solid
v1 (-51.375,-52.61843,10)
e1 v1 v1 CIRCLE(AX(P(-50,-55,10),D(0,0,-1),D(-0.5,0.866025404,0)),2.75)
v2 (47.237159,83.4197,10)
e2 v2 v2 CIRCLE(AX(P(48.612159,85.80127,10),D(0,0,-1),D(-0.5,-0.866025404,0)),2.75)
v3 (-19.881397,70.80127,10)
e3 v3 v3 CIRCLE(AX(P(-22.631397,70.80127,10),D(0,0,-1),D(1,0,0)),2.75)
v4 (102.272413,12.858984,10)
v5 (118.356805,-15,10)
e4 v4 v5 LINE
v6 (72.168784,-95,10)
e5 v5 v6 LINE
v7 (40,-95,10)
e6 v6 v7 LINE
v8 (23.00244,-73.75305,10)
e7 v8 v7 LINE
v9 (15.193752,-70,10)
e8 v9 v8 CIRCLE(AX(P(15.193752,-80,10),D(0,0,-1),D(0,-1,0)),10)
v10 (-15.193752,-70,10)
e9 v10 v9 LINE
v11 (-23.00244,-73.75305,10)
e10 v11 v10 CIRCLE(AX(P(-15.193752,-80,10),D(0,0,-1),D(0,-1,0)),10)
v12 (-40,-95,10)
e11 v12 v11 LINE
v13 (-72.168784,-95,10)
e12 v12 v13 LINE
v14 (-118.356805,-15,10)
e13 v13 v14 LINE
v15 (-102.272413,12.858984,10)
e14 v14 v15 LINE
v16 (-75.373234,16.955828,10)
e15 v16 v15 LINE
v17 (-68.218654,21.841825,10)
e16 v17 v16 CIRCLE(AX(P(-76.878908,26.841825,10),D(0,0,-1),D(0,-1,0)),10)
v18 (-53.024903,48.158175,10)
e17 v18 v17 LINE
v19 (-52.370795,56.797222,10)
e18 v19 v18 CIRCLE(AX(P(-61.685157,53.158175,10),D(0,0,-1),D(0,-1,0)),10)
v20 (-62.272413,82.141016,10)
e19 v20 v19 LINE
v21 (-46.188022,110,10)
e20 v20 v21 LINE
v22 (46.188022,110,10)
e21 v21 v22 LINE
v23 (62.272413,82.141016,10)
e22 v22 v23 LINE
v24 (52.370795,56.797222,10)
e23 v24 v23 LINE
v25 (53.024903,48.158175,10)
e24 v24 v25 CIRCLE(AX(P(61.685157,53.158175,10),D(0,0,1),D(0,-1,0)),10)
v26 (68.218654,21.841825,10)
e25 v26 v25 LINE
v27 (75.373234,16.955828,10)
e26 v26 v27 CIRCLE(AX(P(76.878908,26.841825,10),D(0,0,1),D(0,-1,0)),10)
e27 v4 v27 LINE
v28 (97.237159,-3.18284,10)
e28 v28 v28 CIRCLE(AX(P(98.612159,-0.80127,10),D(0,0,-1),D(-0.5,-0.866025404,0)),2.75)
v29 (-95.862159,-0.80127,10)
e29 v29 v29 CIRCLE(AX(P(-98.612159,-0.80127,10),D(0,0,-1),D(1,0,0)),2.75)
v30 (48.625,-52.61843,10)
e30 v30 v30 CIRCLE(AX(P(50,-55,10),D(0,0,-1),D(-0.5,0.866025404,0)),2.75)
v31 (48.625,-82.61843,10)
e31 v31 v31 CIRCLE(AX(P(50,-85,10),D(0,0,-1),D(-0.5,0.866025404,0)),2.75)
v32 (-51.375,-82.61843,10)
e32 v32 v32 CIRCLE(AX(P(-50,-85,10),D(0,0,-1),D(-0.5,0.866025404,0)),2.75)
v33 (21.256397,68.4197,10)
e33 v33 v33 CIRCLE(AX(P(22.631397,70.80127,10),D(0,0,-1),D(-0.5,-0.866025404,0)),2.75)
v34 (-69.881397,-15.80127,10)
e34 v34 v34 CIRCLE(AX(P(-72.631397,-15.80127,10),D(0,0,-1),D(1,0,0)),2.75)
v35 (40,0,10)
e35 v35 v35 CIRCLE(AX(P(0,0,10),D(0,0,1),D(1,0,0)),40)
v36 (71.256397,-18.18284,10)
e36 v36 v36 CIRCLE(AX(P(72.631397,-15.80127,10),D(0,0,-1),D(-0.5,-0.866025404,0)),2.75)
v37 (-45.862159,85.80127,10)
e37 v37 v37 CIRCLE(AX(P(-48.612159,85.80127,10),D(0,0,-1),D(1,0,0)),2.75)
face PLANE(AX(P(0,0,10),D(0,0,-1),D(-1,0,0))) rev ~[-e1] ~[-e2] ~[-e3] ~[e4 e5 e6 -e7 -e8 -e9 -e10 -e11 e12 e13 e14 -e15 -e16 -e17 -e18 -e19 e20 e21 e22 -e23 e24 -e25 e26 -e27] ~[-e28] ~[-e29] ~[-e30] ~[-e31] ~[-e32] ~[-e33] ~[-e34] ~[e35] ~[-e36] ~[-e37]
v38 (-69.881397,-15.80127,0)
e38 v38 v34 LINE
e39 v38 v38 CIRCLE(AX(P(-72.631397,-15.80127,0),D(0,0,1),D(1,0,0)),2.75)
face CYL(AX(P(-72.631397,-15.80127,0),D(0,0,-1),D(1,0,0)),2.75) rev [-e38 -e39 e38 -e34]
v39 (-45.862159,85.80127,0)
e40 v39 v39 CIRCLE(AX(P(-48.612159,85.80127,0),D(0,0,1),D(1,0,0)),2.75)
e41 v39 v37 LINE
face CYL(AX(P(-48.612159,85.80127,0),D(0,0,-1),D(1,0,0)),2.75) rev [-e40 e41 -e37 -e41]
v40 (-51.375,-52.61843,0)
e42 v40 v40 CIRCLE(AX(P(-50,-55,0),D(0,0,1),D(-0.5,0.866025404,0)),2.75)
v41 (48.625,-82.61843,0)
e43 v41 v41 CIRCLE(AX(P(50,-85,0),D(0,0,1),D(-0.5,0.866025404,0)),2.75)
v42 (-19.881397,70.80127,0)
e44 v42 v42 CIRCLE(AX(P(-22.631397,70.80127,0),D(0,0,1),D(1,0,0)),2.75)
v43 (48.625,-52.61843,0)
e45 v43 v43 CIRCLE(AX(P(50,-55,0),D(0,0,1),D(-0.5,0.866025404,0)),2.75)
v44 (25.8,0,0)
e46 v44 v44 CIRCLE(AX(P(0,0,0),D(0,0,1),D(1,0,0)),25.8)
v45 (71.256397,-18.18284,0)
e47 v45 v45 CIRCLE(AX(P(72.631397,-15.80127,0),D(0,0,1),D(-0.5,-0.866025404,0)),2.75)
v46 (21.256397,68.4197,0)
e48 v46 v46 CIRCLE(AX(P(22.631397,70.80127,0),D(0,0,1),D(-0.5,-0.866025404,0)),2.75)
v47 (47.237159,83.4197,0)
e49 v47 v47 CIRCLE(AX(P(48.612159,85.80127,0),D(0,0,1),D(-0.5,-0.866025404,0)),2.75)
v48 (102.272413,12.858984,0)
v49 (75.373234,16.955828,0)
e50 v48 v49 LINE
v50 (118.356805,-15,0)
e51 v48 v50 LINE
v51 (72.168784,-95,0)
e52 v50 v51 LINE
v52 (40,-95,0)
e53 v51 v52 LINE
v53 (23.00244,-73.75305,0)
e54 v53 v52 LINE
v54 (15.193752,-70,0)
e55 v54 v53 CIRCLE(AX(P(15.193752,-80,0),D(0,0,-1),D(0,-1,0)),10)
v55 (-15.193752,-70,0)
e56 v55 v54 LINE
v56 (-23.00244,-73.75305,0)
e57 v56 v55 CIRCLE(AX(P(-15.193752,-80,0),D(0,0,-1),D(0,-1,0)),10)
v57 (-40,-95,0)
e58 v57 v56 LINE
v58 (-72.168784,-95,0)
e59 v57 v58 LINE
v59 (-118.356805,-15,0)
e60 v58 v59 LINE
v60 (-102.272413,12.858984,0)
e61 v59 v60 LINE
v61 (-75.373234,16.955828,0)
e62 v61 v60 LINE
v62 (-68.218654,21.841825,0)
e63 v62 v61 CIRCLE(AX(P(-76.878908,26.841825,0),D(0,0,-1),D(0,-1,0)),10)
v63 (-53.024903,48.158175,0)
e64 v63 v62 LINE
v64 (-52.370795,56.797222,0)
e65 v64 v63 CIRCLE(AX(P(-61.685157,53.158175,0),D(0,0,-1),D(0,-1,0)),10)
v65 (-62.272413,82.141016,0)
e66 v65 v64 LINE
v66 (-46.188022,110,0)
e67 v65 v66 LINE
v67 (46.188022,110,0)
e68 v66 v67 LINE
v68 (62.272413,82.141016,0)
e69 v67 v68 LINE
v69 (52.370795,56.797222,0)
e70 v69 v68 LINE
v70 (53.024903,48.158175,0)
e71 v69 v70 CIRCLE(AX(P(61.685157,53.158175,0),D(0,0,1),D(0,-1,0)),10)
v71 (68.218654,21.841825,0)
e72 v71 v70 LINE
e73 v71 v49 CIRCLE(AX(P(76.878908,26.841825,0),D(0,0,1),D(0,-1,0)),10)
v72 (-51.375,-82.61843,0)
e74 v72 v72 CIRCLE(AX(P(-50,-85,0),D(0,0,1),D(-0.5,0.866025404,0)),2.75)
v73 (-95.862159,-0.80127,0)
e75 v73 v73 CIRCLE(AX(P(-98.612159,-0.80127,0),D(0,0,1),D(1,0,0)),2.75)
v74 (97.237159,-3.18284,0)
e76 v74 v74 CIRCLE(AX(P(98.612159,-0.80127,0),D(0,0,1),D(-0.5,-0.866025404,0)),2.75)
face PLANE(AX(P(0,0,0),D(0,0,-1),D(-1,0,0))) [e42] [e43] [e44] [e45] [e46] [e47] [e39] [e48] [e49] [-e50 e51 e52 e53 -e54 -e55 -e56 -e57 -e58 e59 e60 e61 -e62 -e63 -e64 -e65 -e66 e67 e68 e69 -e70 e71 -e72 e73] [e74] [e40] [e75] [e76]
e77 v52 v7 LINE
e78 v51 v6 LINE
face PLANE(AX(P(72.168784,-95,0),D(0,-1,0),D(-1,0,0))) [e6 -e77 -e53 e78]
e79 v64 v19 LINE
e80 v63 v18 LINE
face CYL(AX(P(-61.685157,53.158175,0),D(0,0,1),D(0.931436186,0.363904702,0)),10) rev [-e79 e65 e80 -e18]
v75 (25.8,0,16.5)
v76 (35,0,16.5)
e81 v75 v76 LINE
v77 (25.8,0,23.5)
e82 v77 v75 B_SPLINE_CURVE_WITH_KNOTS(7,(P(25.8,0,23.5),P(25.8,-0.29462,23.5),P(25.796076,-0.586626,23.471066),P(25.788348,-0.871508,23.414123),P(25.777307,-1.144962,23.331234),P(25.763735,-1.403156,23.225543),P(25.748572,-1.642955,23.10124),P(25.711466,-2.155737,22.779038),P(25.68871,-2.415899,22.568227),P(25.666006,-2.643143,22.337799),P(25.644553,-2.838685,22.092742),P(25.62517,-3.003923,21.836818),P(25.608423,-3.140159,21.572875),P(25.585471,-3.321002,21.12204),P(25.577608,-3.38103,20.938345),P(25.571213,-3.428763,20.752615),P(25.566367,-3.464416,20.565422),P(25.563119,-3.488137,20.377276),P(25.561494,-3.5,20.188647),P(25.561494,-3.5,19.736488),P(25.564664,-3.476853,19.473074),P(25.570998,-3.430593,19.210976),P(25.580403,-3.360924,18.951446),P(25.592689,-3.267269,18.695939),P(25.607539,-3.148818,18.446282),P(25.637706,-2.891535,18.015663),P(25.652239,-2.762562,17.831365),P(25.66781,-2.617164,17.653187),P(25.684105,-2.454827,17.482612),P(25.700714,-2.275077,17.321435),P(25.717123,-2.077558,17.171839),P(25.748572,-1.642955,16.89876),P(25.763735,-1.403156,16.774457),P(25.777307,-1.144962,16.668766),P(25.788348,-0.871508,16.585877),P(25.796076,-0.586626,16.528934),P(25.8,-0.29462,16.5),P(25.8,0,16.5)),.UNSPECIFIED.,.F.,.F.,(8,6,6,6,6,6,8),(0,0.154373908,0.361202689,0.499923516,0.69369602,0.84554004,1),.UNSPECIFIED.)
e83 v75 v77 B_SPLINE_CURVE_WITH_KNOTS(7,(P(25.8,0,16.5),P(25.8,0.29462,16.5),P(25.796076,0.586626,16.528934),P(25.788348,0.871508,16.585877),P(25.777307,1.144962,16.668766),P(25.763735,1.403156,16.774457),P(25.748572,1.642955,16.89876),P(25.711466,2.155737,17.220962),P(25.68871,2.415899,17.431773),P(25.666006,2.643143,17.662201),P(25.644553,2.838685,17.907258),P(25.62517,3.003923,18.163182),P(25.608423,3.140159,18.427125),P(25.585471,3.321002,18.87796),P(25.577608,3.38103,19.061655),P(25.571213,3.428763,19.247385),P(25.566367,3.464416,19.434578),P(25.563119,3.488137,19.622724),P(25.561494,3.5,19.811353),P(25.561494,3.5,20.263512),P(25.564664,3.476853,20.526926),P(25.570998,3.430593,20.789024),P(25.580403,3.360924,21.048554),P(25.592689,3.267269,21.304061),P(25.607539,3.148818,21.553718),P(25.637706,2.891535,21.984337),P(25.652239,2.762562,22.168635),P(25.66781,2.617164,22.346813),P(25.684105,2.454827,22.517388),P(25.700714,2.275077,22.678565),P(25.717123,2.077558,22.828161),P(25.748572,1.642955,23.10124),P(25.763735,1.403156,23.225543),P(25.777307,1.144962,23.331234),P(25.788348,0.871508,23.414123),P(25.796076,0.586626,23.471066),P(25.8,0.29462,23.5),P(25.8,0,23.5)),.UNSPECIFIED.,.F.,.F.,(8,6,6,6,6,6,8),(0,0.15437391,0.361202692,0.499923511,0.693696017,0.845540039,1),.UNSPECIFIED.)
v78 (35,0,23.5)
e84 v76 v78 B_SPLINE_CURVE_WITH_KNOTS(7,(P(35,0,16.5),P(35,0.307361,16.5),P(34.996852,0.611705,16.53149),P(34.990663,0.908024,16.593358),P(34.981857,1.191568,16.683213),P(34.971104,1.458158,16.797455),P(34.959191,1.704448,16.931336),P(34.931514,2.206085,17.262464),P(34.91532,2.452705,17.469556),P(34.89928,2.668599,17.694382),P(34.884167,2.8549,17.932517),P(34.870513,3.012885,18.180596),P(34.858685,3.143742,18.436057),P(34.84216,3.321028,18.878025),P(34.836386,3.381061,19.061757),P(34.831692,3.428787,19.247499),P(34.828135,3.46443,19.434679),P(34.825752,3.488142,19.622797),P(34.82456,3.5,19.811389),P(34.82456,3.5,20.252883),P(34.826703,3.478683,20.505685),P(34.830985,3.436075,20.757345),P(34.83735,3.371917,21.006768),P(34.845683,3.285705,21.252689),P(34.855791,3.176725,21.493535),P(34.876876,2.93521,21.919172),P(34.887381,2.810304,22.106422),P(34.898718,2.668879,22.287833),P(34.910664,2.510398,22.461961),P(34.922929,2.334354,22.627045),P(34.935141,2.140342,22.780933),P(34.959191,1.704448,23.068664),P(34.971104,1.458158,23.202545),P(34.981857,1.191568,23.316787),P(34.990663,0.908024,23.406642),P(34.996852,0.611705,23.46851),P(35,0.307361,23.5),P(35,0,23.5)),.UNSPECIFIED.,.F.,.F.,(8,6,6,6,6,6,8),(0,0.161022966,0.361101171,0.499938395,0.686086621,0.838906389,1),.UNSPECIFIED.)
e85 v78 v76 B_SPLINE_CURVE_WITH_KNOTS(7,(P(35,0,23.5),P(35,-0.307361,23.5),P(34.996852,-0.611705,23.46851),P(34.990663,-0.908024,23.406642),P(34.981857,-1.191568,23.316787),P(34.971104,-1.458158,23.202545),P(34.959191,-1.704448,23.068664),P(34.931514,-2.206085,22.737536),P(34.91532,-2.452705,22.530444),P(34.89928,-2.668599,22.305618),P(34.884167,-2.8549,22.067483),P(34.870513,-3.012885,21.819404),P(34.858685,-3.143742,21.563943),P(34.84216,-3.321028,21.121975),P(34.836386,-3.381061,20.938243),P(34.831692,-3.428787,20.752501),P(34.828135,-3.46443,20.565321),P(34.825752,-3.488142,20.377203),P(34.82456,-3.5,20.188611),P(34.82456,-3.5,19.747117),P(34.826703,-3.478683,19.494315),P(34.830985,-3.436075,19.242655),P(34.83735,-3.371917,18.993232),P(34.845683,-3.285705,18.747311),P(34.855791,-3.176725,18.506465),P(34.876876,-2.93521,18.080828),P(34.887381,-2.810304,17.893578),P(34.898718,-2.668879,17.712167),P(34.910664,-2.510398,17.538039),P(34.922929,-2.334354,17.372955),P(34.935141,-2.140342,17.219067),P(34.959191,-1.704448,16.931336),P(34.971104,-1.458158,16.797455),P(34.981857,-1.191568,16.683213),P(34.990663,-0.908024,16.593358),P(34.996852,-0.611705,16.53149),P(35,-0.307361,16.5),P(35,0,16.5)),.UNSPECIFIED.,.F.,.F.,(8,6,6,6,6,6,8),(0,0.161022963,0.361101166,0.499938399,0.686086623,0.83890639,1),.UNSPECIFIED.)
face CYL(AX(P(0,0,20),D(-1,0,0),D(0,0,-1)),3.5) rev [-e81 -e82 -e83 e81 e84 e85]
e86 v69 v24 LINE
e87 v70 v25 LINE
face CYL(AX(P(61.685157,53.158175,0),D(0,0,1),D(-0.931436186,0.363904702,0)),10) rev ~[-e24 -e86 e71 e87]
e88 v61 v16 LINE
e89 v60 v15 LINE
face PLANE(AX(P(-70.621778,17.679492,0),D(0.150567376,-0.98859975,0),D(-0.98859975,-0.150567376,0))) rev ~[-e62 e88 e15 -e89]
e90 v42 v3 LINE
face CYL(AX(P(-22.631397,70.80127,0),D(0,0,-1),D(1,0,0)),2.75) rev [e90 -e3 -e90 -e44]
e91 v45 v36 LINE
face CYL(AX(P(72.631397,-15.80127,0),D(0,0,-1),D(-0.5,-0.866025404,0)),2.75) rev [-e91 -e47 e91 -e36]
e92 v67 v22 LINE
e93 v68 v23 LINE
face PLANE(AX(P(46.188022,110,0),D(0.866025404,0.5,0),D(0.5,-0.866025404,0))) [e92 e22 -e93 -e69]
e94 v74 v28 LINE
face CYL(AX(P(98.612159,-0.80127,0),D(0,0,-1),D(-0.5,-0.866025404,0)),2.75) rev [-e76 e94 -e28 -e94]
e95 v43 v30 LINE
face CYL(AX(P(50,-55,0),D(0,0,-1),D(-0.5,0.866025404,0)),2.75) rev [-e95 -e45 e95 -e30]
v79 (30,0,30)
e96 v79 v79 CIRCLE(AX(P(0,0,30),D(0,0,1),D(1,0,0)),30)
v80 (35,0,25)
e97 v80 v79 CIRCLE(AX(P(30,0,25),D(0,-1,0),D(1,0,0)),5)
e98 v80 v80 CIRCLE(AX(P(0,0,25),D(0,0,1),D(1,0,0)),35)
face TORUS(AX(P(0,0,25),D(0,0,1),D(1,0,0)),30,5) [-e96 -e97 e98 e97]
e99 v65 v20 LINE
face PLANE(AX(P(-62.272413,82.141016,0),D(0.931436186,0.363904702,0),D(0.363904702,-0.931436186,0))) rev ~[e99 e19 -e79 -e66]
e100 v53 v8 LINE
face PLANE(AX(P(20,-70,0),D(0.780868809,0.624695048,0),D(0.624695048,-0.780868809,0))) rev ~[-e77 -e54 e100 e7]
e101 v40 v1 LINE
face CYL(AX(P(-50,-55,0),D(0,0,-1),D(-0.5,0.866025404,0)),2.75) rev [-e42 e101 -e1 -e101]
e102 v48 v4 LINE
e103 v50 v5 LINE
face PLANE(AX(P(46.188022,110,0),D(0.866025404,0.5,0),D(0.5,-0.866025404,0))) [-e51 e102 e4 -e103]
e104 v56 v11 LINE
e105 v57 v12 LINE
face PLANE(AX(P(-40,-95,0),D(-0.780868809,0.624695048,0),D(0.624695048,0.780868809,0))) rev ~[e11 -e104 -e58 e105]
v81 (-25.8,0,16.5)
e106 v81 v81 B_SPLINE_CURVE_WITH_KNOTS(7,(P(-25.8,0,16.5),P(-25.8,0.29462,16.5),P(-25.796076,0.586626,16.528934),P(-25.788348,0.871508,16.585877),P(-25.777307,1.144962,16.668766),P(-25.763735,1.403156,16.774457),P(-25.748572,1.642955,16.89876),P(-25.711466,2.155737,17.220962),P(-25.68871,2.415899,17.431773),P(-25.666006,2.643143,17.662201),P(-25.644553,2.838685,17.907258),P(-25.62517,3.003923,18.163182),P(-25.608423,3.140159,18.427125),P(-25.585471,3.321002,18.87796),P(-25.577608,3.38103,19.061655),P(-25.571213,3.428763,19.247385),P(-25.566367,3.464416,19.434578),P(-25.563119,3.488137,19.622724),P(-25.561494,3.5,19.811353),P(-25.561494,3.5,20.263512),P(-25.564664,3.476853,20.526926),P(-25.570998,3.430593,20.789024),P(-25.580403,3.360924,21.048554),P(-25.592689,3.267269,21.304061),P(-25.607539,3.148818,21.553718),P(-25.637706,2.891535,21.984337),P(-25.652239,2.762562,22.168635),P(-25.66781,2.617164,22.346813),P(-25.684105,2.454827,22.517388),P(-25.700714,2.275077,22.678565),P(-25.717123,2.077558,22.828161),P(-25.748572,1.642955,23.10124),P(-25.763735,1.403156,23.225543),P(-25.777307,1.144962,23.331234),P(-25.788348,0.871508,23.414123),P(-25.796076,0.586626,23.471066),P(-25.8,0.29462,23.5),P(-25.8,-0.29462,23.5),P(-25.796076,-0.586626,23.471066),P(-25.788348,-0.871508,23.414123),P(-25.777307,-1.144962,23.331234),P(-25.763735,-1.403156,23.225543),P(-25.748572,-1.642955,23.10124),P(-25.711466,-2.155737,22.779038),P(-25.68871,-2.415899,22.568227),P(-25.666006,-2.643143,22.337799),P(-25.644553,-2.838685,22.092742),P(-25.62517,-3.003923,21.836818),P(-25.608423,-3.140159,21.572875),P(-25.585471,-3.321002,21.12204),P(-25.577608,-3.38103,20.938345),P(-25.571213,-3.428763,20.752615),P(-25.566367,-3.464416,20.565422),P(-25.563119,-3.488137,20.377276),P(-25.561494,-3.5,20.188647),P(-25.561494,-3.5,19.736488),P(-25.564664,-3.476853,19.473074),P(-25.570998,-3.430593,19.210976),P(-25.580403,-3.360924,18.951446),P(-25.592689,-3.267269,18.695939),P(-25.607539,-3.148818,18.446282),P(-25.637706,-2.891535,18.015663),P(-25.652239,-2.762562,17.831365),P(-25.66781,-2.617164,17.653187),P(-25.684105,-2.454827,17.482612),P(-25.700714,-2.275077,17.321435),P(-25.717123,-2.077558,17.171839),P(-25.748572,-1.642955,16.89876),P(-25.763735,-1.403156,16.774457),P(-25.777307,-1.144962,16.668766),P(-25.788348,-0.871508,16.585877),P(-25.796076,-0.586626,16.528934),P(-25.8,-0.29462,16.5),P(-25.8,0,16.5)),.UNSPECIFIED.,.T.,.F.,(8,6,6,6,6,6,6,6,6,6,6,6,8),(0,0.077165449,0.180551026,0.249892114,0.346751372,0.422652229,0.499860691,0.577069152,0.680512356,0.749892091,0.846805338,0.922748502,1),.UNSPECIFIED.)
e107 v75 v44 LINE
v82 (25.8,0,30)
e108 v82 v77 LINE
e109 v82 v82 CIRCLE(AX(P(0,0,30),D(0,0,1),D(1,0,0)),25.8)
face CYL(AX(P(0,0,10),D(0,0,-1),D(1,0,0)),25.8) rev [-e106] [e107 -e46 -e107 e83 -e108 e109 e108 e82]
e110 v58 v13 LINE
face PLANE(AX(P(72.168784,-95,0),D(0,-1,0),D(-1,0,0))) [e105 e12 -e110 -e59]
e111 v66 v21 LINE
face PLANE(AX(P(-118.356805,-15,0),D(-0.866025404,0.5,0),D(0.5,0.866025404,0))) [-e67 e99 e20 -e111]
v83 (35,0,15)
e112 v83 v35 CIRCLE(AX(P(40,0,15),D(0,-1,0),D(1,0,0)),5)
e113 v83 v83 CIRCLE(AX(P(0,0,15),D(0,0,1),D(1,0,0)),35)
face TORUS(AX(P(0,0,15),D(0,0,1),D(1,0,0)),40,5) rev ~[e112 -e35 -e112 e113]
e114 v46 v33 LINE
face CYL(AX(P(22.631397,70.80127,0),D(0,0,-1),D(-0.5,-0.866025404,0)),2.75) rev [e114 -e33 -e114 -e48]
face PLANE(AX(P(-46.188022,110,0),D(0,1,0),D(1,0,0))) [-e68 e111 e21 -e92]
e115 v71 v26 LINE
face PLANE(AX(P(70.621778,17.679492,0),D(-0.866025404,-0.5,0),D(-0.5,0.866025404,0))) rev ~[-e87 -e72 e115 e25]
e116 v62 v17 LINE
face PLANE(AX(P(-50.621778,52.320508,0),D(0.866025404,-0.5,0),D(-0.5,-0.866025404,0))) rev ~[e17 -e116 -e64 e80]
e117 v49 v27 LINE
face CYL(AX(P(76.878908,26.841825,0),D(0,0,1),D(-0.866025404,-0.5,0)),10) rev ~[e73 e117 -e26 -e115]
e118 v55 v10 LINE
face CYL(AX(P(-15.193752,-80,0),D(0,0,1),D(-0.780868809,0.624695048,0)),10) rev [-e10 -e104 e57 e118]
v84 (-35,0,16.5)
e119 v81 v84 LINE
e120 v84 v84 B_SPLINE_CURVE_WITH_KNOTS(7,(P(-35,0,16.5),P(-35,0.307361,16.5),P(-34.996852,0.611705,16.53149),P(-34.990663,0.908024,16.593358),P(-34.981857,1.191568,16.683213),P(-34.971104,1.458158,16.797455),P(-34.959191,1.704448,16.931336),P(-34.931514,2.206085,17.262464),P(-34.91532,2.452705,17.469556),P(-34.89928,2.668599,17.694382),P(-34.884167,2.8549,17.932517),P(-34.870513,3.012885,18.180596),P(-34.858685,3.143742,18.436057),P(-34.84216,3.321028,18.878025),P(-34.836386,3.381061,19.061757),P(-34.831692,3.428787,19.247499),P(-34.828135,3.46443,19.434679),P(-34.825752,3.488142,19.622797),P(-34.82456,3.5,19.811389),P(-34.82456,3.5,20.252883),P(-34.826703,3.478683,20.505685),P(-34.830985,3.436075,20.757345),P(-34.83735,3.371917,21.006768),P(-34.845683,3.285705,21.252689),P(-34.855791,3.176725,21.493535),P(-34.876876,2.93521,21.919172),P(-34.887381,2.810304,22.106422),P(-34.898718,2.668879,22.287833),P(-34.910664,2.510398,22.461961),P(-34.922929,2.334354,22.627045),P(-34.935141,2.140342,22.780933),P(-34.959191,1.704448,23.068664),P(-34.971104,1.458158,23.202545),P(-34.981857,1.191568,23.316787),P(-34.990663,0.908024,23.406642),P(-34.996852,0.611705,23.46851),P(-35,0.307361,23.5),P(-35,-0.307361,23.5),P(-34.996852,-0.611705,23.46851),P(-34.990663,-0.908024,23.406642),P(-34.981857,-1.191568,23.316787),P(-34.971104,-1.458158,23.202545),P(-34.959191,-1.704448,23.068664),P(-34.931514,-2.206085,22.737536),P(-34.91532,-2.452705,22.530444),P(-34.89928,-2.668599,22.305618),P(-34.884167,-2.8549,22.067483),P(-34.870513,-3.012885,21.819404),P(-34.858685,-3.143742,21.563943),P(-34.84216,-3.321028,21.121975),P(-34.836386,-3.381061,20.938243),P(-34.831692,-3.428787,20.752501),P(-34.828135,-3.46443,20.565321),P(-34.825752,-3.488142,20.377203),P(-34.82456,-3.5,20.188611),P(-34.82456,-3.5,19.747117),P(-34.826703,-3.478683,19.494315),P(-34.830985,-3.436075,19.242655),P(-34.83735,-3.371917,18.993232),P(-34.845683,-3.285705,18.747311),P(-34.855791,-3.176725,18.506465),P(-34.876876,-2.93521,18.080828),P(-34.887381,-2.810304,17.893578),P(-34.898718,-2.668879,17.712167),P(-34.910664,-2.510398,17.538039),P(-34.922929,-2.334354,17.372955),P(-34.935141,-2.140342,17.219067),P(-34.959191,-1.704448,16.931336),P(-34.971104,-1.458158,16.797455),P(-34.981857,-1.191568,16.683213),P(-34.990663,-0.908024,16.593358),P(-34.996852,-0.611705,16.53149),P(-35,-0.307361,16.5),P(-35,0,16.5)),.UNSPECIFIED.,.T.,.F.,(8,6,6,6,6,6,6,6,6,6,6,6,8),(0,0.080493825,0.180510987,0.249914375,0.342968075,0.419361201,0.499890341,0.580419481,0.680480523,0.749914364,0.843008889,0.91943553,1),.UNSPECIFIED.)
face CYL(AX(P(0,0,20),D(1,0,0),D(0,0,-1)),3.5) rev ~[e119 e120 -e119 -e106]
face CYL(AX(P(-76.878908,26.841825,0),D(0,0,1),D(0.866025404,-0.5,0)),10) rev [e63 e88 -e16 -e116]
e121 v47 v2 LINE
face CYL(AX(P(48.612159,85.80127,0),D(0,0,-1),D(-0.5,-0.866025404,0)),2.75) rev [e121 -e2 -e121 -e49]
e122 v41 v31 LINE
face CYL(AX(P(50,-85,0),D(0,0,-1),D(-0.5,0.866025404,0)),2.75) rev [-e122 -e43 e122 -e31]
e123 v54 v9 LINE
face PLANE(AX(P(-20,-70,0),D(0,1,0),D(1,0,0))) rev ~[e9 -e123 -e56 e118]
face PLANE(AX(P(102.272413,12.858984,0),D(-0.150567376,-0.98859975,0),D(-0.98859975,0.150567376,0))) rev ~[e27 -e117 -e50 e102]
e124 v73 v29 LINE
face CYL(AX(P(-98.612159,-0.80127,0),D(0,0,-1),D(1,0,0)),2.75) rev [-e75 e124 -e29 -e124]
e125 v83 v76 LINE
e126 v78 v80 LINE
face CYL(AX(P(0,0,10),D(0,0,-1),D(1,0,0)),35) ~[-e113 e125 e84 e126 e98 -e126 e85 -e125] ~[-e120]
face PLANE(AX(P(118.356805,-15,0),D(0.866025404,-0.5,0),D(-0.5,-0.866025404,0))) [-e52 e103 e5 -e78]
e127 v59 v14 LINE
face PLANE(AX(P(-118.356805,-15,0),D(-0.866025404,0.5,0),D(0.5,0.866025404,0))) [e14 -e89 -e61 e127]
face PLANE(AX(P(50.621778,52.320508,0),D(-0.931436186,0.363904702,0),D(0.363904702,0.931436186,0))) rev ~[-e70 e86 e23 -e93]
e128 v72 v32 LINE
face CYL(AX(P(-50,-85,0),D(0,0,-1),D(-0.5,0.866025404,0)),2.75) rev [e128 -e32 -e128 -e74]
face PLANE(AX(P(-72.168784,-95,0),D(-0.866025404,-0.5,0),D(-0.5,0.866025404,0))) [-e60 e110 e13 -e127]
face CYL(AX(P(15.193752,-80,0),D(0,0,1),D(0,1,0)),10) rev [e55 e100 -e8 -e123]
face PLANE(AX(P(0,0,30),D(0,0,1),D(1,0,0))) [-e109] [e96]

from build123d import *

# Parameters (mm, degrees)
SKETCH011_R        = 25.8
PAD007_DEPTH       = 10
SKETCH012_R        = 2.75
POCKET003_DEPTH    = 636.6056068561
POLARPATTERN_COUNT = 3
SKETCH_R           = 35
SKETCH_R_2         = 25.8
PAD_DEPTH          = 20
FILLET_R           = 5
SKETCH013_R        = 3.5
POCKET_DEPTH       = 118.3578051839
POCKET_DEPTH_BACK  = 118.3578051839
FILLET001_R        = 10


with BuildPart() as part:
    # Sketch011 → Pad007 (new body)
    with BuildSketch(Plane.XY):
        Polygon((-46.1880215352, 110), (46.1880215352, 110), (118.3568051839, -15), (72.1687836487, -95), (-72.1687836487, -95), (-118.3568051839, -15), align=None)
        Circle(SKETCH011_R, mode=Mode.SUBTRACT)
    extrude(amount=PAD007_DEPTH)

    # Sketch012 → Pocket003 (cut, through all)
    with BuildSketch(Plane.XY):
        with Locations((-48.6121593217, 85.8012701892)):
            Circle(SKETCH012_R)
        with Locations((-98.6121593217, -0.8012701892)):
            Circle(SKETCH012_R)
        with Locations((-22.6313972081, 70.8012701892)):
            Circle(SKETCH012_R)
        with Locations((-72.6313972081, -15.8012701892)):
            Circle(SKETCH012_R)
        Polygon((-62.2724133595, 82.1410161514), (-50.6217782649, 52.3205080757), (-70.6217782649, 17.6794919243), (-102.2724133595, 12.8589838486), align=None)
    pocket003 = extrude(amount=POCKET003_DEPTH, mode=Mode.SUBTRACT)

    # PolarPattern: Pocket003 ×3 about axis
    polarpattern_axis = Axis((0, 0, 0), (0, 0, 1))
    for i in range(1, POLARPATTERN_COUNT):
        add(pocket003.rotate(polarpattern_axis, i * 360 / POLARPATTERN_COUNT), mode=Mode.SUBTRACT)

    # Sketch (on Face5 of PolarPattern) → Pad (join)
    with BuildSketch(Plane.XY.offset(10)):
        Circle(SKETCH_R)
        Circle(SKETCH_R_2, mode=Mode.SUBTRACT)
    extrude(amount=PAD_DEPTH)

    # Fillet
    fillet_edges = [part.edges().sort_by_distance(p)[0] for p in [
        (-35, 0, 10),
        (-35, 0, 30),
    ]]
    fillet(fillet_edges, radius=FILLET_R)

    # Sketch013 (on DatumPlane) → Pocket (cut, two sides)
    with BuildSketch(Plane(origin=(0, 0, 15), x_dir=(0, 0, -1), z_dir=(1, 0, 0))) as pocket_sk:
        with Locations((-5, 0)):
            Circle(SKETCH013_R)
    extrude(amount=-POCKET_DEPTH, mode=Mode.SUBTRACT)
    extrude(pocket_sk.sketch, amount=POCKET_DEPTH_BACK, mode=Mode.SUBTRACT)

    # Fillet001
    fillet001_edges = [part.edges().sort_by_distance(p)[0] for p in [
        (20, -70, 5),
        (-20, -70, 5),
        (50.621778, 52.320508, 5),
        (70.621778, 17.679492, 5),
        (-50.621778, 52.320508, 5),
        (-70.621778, 17.679492, 5),
    ]]
    fillet(fillet001_edges, radius=FILLET001_R)


solid = part.part
